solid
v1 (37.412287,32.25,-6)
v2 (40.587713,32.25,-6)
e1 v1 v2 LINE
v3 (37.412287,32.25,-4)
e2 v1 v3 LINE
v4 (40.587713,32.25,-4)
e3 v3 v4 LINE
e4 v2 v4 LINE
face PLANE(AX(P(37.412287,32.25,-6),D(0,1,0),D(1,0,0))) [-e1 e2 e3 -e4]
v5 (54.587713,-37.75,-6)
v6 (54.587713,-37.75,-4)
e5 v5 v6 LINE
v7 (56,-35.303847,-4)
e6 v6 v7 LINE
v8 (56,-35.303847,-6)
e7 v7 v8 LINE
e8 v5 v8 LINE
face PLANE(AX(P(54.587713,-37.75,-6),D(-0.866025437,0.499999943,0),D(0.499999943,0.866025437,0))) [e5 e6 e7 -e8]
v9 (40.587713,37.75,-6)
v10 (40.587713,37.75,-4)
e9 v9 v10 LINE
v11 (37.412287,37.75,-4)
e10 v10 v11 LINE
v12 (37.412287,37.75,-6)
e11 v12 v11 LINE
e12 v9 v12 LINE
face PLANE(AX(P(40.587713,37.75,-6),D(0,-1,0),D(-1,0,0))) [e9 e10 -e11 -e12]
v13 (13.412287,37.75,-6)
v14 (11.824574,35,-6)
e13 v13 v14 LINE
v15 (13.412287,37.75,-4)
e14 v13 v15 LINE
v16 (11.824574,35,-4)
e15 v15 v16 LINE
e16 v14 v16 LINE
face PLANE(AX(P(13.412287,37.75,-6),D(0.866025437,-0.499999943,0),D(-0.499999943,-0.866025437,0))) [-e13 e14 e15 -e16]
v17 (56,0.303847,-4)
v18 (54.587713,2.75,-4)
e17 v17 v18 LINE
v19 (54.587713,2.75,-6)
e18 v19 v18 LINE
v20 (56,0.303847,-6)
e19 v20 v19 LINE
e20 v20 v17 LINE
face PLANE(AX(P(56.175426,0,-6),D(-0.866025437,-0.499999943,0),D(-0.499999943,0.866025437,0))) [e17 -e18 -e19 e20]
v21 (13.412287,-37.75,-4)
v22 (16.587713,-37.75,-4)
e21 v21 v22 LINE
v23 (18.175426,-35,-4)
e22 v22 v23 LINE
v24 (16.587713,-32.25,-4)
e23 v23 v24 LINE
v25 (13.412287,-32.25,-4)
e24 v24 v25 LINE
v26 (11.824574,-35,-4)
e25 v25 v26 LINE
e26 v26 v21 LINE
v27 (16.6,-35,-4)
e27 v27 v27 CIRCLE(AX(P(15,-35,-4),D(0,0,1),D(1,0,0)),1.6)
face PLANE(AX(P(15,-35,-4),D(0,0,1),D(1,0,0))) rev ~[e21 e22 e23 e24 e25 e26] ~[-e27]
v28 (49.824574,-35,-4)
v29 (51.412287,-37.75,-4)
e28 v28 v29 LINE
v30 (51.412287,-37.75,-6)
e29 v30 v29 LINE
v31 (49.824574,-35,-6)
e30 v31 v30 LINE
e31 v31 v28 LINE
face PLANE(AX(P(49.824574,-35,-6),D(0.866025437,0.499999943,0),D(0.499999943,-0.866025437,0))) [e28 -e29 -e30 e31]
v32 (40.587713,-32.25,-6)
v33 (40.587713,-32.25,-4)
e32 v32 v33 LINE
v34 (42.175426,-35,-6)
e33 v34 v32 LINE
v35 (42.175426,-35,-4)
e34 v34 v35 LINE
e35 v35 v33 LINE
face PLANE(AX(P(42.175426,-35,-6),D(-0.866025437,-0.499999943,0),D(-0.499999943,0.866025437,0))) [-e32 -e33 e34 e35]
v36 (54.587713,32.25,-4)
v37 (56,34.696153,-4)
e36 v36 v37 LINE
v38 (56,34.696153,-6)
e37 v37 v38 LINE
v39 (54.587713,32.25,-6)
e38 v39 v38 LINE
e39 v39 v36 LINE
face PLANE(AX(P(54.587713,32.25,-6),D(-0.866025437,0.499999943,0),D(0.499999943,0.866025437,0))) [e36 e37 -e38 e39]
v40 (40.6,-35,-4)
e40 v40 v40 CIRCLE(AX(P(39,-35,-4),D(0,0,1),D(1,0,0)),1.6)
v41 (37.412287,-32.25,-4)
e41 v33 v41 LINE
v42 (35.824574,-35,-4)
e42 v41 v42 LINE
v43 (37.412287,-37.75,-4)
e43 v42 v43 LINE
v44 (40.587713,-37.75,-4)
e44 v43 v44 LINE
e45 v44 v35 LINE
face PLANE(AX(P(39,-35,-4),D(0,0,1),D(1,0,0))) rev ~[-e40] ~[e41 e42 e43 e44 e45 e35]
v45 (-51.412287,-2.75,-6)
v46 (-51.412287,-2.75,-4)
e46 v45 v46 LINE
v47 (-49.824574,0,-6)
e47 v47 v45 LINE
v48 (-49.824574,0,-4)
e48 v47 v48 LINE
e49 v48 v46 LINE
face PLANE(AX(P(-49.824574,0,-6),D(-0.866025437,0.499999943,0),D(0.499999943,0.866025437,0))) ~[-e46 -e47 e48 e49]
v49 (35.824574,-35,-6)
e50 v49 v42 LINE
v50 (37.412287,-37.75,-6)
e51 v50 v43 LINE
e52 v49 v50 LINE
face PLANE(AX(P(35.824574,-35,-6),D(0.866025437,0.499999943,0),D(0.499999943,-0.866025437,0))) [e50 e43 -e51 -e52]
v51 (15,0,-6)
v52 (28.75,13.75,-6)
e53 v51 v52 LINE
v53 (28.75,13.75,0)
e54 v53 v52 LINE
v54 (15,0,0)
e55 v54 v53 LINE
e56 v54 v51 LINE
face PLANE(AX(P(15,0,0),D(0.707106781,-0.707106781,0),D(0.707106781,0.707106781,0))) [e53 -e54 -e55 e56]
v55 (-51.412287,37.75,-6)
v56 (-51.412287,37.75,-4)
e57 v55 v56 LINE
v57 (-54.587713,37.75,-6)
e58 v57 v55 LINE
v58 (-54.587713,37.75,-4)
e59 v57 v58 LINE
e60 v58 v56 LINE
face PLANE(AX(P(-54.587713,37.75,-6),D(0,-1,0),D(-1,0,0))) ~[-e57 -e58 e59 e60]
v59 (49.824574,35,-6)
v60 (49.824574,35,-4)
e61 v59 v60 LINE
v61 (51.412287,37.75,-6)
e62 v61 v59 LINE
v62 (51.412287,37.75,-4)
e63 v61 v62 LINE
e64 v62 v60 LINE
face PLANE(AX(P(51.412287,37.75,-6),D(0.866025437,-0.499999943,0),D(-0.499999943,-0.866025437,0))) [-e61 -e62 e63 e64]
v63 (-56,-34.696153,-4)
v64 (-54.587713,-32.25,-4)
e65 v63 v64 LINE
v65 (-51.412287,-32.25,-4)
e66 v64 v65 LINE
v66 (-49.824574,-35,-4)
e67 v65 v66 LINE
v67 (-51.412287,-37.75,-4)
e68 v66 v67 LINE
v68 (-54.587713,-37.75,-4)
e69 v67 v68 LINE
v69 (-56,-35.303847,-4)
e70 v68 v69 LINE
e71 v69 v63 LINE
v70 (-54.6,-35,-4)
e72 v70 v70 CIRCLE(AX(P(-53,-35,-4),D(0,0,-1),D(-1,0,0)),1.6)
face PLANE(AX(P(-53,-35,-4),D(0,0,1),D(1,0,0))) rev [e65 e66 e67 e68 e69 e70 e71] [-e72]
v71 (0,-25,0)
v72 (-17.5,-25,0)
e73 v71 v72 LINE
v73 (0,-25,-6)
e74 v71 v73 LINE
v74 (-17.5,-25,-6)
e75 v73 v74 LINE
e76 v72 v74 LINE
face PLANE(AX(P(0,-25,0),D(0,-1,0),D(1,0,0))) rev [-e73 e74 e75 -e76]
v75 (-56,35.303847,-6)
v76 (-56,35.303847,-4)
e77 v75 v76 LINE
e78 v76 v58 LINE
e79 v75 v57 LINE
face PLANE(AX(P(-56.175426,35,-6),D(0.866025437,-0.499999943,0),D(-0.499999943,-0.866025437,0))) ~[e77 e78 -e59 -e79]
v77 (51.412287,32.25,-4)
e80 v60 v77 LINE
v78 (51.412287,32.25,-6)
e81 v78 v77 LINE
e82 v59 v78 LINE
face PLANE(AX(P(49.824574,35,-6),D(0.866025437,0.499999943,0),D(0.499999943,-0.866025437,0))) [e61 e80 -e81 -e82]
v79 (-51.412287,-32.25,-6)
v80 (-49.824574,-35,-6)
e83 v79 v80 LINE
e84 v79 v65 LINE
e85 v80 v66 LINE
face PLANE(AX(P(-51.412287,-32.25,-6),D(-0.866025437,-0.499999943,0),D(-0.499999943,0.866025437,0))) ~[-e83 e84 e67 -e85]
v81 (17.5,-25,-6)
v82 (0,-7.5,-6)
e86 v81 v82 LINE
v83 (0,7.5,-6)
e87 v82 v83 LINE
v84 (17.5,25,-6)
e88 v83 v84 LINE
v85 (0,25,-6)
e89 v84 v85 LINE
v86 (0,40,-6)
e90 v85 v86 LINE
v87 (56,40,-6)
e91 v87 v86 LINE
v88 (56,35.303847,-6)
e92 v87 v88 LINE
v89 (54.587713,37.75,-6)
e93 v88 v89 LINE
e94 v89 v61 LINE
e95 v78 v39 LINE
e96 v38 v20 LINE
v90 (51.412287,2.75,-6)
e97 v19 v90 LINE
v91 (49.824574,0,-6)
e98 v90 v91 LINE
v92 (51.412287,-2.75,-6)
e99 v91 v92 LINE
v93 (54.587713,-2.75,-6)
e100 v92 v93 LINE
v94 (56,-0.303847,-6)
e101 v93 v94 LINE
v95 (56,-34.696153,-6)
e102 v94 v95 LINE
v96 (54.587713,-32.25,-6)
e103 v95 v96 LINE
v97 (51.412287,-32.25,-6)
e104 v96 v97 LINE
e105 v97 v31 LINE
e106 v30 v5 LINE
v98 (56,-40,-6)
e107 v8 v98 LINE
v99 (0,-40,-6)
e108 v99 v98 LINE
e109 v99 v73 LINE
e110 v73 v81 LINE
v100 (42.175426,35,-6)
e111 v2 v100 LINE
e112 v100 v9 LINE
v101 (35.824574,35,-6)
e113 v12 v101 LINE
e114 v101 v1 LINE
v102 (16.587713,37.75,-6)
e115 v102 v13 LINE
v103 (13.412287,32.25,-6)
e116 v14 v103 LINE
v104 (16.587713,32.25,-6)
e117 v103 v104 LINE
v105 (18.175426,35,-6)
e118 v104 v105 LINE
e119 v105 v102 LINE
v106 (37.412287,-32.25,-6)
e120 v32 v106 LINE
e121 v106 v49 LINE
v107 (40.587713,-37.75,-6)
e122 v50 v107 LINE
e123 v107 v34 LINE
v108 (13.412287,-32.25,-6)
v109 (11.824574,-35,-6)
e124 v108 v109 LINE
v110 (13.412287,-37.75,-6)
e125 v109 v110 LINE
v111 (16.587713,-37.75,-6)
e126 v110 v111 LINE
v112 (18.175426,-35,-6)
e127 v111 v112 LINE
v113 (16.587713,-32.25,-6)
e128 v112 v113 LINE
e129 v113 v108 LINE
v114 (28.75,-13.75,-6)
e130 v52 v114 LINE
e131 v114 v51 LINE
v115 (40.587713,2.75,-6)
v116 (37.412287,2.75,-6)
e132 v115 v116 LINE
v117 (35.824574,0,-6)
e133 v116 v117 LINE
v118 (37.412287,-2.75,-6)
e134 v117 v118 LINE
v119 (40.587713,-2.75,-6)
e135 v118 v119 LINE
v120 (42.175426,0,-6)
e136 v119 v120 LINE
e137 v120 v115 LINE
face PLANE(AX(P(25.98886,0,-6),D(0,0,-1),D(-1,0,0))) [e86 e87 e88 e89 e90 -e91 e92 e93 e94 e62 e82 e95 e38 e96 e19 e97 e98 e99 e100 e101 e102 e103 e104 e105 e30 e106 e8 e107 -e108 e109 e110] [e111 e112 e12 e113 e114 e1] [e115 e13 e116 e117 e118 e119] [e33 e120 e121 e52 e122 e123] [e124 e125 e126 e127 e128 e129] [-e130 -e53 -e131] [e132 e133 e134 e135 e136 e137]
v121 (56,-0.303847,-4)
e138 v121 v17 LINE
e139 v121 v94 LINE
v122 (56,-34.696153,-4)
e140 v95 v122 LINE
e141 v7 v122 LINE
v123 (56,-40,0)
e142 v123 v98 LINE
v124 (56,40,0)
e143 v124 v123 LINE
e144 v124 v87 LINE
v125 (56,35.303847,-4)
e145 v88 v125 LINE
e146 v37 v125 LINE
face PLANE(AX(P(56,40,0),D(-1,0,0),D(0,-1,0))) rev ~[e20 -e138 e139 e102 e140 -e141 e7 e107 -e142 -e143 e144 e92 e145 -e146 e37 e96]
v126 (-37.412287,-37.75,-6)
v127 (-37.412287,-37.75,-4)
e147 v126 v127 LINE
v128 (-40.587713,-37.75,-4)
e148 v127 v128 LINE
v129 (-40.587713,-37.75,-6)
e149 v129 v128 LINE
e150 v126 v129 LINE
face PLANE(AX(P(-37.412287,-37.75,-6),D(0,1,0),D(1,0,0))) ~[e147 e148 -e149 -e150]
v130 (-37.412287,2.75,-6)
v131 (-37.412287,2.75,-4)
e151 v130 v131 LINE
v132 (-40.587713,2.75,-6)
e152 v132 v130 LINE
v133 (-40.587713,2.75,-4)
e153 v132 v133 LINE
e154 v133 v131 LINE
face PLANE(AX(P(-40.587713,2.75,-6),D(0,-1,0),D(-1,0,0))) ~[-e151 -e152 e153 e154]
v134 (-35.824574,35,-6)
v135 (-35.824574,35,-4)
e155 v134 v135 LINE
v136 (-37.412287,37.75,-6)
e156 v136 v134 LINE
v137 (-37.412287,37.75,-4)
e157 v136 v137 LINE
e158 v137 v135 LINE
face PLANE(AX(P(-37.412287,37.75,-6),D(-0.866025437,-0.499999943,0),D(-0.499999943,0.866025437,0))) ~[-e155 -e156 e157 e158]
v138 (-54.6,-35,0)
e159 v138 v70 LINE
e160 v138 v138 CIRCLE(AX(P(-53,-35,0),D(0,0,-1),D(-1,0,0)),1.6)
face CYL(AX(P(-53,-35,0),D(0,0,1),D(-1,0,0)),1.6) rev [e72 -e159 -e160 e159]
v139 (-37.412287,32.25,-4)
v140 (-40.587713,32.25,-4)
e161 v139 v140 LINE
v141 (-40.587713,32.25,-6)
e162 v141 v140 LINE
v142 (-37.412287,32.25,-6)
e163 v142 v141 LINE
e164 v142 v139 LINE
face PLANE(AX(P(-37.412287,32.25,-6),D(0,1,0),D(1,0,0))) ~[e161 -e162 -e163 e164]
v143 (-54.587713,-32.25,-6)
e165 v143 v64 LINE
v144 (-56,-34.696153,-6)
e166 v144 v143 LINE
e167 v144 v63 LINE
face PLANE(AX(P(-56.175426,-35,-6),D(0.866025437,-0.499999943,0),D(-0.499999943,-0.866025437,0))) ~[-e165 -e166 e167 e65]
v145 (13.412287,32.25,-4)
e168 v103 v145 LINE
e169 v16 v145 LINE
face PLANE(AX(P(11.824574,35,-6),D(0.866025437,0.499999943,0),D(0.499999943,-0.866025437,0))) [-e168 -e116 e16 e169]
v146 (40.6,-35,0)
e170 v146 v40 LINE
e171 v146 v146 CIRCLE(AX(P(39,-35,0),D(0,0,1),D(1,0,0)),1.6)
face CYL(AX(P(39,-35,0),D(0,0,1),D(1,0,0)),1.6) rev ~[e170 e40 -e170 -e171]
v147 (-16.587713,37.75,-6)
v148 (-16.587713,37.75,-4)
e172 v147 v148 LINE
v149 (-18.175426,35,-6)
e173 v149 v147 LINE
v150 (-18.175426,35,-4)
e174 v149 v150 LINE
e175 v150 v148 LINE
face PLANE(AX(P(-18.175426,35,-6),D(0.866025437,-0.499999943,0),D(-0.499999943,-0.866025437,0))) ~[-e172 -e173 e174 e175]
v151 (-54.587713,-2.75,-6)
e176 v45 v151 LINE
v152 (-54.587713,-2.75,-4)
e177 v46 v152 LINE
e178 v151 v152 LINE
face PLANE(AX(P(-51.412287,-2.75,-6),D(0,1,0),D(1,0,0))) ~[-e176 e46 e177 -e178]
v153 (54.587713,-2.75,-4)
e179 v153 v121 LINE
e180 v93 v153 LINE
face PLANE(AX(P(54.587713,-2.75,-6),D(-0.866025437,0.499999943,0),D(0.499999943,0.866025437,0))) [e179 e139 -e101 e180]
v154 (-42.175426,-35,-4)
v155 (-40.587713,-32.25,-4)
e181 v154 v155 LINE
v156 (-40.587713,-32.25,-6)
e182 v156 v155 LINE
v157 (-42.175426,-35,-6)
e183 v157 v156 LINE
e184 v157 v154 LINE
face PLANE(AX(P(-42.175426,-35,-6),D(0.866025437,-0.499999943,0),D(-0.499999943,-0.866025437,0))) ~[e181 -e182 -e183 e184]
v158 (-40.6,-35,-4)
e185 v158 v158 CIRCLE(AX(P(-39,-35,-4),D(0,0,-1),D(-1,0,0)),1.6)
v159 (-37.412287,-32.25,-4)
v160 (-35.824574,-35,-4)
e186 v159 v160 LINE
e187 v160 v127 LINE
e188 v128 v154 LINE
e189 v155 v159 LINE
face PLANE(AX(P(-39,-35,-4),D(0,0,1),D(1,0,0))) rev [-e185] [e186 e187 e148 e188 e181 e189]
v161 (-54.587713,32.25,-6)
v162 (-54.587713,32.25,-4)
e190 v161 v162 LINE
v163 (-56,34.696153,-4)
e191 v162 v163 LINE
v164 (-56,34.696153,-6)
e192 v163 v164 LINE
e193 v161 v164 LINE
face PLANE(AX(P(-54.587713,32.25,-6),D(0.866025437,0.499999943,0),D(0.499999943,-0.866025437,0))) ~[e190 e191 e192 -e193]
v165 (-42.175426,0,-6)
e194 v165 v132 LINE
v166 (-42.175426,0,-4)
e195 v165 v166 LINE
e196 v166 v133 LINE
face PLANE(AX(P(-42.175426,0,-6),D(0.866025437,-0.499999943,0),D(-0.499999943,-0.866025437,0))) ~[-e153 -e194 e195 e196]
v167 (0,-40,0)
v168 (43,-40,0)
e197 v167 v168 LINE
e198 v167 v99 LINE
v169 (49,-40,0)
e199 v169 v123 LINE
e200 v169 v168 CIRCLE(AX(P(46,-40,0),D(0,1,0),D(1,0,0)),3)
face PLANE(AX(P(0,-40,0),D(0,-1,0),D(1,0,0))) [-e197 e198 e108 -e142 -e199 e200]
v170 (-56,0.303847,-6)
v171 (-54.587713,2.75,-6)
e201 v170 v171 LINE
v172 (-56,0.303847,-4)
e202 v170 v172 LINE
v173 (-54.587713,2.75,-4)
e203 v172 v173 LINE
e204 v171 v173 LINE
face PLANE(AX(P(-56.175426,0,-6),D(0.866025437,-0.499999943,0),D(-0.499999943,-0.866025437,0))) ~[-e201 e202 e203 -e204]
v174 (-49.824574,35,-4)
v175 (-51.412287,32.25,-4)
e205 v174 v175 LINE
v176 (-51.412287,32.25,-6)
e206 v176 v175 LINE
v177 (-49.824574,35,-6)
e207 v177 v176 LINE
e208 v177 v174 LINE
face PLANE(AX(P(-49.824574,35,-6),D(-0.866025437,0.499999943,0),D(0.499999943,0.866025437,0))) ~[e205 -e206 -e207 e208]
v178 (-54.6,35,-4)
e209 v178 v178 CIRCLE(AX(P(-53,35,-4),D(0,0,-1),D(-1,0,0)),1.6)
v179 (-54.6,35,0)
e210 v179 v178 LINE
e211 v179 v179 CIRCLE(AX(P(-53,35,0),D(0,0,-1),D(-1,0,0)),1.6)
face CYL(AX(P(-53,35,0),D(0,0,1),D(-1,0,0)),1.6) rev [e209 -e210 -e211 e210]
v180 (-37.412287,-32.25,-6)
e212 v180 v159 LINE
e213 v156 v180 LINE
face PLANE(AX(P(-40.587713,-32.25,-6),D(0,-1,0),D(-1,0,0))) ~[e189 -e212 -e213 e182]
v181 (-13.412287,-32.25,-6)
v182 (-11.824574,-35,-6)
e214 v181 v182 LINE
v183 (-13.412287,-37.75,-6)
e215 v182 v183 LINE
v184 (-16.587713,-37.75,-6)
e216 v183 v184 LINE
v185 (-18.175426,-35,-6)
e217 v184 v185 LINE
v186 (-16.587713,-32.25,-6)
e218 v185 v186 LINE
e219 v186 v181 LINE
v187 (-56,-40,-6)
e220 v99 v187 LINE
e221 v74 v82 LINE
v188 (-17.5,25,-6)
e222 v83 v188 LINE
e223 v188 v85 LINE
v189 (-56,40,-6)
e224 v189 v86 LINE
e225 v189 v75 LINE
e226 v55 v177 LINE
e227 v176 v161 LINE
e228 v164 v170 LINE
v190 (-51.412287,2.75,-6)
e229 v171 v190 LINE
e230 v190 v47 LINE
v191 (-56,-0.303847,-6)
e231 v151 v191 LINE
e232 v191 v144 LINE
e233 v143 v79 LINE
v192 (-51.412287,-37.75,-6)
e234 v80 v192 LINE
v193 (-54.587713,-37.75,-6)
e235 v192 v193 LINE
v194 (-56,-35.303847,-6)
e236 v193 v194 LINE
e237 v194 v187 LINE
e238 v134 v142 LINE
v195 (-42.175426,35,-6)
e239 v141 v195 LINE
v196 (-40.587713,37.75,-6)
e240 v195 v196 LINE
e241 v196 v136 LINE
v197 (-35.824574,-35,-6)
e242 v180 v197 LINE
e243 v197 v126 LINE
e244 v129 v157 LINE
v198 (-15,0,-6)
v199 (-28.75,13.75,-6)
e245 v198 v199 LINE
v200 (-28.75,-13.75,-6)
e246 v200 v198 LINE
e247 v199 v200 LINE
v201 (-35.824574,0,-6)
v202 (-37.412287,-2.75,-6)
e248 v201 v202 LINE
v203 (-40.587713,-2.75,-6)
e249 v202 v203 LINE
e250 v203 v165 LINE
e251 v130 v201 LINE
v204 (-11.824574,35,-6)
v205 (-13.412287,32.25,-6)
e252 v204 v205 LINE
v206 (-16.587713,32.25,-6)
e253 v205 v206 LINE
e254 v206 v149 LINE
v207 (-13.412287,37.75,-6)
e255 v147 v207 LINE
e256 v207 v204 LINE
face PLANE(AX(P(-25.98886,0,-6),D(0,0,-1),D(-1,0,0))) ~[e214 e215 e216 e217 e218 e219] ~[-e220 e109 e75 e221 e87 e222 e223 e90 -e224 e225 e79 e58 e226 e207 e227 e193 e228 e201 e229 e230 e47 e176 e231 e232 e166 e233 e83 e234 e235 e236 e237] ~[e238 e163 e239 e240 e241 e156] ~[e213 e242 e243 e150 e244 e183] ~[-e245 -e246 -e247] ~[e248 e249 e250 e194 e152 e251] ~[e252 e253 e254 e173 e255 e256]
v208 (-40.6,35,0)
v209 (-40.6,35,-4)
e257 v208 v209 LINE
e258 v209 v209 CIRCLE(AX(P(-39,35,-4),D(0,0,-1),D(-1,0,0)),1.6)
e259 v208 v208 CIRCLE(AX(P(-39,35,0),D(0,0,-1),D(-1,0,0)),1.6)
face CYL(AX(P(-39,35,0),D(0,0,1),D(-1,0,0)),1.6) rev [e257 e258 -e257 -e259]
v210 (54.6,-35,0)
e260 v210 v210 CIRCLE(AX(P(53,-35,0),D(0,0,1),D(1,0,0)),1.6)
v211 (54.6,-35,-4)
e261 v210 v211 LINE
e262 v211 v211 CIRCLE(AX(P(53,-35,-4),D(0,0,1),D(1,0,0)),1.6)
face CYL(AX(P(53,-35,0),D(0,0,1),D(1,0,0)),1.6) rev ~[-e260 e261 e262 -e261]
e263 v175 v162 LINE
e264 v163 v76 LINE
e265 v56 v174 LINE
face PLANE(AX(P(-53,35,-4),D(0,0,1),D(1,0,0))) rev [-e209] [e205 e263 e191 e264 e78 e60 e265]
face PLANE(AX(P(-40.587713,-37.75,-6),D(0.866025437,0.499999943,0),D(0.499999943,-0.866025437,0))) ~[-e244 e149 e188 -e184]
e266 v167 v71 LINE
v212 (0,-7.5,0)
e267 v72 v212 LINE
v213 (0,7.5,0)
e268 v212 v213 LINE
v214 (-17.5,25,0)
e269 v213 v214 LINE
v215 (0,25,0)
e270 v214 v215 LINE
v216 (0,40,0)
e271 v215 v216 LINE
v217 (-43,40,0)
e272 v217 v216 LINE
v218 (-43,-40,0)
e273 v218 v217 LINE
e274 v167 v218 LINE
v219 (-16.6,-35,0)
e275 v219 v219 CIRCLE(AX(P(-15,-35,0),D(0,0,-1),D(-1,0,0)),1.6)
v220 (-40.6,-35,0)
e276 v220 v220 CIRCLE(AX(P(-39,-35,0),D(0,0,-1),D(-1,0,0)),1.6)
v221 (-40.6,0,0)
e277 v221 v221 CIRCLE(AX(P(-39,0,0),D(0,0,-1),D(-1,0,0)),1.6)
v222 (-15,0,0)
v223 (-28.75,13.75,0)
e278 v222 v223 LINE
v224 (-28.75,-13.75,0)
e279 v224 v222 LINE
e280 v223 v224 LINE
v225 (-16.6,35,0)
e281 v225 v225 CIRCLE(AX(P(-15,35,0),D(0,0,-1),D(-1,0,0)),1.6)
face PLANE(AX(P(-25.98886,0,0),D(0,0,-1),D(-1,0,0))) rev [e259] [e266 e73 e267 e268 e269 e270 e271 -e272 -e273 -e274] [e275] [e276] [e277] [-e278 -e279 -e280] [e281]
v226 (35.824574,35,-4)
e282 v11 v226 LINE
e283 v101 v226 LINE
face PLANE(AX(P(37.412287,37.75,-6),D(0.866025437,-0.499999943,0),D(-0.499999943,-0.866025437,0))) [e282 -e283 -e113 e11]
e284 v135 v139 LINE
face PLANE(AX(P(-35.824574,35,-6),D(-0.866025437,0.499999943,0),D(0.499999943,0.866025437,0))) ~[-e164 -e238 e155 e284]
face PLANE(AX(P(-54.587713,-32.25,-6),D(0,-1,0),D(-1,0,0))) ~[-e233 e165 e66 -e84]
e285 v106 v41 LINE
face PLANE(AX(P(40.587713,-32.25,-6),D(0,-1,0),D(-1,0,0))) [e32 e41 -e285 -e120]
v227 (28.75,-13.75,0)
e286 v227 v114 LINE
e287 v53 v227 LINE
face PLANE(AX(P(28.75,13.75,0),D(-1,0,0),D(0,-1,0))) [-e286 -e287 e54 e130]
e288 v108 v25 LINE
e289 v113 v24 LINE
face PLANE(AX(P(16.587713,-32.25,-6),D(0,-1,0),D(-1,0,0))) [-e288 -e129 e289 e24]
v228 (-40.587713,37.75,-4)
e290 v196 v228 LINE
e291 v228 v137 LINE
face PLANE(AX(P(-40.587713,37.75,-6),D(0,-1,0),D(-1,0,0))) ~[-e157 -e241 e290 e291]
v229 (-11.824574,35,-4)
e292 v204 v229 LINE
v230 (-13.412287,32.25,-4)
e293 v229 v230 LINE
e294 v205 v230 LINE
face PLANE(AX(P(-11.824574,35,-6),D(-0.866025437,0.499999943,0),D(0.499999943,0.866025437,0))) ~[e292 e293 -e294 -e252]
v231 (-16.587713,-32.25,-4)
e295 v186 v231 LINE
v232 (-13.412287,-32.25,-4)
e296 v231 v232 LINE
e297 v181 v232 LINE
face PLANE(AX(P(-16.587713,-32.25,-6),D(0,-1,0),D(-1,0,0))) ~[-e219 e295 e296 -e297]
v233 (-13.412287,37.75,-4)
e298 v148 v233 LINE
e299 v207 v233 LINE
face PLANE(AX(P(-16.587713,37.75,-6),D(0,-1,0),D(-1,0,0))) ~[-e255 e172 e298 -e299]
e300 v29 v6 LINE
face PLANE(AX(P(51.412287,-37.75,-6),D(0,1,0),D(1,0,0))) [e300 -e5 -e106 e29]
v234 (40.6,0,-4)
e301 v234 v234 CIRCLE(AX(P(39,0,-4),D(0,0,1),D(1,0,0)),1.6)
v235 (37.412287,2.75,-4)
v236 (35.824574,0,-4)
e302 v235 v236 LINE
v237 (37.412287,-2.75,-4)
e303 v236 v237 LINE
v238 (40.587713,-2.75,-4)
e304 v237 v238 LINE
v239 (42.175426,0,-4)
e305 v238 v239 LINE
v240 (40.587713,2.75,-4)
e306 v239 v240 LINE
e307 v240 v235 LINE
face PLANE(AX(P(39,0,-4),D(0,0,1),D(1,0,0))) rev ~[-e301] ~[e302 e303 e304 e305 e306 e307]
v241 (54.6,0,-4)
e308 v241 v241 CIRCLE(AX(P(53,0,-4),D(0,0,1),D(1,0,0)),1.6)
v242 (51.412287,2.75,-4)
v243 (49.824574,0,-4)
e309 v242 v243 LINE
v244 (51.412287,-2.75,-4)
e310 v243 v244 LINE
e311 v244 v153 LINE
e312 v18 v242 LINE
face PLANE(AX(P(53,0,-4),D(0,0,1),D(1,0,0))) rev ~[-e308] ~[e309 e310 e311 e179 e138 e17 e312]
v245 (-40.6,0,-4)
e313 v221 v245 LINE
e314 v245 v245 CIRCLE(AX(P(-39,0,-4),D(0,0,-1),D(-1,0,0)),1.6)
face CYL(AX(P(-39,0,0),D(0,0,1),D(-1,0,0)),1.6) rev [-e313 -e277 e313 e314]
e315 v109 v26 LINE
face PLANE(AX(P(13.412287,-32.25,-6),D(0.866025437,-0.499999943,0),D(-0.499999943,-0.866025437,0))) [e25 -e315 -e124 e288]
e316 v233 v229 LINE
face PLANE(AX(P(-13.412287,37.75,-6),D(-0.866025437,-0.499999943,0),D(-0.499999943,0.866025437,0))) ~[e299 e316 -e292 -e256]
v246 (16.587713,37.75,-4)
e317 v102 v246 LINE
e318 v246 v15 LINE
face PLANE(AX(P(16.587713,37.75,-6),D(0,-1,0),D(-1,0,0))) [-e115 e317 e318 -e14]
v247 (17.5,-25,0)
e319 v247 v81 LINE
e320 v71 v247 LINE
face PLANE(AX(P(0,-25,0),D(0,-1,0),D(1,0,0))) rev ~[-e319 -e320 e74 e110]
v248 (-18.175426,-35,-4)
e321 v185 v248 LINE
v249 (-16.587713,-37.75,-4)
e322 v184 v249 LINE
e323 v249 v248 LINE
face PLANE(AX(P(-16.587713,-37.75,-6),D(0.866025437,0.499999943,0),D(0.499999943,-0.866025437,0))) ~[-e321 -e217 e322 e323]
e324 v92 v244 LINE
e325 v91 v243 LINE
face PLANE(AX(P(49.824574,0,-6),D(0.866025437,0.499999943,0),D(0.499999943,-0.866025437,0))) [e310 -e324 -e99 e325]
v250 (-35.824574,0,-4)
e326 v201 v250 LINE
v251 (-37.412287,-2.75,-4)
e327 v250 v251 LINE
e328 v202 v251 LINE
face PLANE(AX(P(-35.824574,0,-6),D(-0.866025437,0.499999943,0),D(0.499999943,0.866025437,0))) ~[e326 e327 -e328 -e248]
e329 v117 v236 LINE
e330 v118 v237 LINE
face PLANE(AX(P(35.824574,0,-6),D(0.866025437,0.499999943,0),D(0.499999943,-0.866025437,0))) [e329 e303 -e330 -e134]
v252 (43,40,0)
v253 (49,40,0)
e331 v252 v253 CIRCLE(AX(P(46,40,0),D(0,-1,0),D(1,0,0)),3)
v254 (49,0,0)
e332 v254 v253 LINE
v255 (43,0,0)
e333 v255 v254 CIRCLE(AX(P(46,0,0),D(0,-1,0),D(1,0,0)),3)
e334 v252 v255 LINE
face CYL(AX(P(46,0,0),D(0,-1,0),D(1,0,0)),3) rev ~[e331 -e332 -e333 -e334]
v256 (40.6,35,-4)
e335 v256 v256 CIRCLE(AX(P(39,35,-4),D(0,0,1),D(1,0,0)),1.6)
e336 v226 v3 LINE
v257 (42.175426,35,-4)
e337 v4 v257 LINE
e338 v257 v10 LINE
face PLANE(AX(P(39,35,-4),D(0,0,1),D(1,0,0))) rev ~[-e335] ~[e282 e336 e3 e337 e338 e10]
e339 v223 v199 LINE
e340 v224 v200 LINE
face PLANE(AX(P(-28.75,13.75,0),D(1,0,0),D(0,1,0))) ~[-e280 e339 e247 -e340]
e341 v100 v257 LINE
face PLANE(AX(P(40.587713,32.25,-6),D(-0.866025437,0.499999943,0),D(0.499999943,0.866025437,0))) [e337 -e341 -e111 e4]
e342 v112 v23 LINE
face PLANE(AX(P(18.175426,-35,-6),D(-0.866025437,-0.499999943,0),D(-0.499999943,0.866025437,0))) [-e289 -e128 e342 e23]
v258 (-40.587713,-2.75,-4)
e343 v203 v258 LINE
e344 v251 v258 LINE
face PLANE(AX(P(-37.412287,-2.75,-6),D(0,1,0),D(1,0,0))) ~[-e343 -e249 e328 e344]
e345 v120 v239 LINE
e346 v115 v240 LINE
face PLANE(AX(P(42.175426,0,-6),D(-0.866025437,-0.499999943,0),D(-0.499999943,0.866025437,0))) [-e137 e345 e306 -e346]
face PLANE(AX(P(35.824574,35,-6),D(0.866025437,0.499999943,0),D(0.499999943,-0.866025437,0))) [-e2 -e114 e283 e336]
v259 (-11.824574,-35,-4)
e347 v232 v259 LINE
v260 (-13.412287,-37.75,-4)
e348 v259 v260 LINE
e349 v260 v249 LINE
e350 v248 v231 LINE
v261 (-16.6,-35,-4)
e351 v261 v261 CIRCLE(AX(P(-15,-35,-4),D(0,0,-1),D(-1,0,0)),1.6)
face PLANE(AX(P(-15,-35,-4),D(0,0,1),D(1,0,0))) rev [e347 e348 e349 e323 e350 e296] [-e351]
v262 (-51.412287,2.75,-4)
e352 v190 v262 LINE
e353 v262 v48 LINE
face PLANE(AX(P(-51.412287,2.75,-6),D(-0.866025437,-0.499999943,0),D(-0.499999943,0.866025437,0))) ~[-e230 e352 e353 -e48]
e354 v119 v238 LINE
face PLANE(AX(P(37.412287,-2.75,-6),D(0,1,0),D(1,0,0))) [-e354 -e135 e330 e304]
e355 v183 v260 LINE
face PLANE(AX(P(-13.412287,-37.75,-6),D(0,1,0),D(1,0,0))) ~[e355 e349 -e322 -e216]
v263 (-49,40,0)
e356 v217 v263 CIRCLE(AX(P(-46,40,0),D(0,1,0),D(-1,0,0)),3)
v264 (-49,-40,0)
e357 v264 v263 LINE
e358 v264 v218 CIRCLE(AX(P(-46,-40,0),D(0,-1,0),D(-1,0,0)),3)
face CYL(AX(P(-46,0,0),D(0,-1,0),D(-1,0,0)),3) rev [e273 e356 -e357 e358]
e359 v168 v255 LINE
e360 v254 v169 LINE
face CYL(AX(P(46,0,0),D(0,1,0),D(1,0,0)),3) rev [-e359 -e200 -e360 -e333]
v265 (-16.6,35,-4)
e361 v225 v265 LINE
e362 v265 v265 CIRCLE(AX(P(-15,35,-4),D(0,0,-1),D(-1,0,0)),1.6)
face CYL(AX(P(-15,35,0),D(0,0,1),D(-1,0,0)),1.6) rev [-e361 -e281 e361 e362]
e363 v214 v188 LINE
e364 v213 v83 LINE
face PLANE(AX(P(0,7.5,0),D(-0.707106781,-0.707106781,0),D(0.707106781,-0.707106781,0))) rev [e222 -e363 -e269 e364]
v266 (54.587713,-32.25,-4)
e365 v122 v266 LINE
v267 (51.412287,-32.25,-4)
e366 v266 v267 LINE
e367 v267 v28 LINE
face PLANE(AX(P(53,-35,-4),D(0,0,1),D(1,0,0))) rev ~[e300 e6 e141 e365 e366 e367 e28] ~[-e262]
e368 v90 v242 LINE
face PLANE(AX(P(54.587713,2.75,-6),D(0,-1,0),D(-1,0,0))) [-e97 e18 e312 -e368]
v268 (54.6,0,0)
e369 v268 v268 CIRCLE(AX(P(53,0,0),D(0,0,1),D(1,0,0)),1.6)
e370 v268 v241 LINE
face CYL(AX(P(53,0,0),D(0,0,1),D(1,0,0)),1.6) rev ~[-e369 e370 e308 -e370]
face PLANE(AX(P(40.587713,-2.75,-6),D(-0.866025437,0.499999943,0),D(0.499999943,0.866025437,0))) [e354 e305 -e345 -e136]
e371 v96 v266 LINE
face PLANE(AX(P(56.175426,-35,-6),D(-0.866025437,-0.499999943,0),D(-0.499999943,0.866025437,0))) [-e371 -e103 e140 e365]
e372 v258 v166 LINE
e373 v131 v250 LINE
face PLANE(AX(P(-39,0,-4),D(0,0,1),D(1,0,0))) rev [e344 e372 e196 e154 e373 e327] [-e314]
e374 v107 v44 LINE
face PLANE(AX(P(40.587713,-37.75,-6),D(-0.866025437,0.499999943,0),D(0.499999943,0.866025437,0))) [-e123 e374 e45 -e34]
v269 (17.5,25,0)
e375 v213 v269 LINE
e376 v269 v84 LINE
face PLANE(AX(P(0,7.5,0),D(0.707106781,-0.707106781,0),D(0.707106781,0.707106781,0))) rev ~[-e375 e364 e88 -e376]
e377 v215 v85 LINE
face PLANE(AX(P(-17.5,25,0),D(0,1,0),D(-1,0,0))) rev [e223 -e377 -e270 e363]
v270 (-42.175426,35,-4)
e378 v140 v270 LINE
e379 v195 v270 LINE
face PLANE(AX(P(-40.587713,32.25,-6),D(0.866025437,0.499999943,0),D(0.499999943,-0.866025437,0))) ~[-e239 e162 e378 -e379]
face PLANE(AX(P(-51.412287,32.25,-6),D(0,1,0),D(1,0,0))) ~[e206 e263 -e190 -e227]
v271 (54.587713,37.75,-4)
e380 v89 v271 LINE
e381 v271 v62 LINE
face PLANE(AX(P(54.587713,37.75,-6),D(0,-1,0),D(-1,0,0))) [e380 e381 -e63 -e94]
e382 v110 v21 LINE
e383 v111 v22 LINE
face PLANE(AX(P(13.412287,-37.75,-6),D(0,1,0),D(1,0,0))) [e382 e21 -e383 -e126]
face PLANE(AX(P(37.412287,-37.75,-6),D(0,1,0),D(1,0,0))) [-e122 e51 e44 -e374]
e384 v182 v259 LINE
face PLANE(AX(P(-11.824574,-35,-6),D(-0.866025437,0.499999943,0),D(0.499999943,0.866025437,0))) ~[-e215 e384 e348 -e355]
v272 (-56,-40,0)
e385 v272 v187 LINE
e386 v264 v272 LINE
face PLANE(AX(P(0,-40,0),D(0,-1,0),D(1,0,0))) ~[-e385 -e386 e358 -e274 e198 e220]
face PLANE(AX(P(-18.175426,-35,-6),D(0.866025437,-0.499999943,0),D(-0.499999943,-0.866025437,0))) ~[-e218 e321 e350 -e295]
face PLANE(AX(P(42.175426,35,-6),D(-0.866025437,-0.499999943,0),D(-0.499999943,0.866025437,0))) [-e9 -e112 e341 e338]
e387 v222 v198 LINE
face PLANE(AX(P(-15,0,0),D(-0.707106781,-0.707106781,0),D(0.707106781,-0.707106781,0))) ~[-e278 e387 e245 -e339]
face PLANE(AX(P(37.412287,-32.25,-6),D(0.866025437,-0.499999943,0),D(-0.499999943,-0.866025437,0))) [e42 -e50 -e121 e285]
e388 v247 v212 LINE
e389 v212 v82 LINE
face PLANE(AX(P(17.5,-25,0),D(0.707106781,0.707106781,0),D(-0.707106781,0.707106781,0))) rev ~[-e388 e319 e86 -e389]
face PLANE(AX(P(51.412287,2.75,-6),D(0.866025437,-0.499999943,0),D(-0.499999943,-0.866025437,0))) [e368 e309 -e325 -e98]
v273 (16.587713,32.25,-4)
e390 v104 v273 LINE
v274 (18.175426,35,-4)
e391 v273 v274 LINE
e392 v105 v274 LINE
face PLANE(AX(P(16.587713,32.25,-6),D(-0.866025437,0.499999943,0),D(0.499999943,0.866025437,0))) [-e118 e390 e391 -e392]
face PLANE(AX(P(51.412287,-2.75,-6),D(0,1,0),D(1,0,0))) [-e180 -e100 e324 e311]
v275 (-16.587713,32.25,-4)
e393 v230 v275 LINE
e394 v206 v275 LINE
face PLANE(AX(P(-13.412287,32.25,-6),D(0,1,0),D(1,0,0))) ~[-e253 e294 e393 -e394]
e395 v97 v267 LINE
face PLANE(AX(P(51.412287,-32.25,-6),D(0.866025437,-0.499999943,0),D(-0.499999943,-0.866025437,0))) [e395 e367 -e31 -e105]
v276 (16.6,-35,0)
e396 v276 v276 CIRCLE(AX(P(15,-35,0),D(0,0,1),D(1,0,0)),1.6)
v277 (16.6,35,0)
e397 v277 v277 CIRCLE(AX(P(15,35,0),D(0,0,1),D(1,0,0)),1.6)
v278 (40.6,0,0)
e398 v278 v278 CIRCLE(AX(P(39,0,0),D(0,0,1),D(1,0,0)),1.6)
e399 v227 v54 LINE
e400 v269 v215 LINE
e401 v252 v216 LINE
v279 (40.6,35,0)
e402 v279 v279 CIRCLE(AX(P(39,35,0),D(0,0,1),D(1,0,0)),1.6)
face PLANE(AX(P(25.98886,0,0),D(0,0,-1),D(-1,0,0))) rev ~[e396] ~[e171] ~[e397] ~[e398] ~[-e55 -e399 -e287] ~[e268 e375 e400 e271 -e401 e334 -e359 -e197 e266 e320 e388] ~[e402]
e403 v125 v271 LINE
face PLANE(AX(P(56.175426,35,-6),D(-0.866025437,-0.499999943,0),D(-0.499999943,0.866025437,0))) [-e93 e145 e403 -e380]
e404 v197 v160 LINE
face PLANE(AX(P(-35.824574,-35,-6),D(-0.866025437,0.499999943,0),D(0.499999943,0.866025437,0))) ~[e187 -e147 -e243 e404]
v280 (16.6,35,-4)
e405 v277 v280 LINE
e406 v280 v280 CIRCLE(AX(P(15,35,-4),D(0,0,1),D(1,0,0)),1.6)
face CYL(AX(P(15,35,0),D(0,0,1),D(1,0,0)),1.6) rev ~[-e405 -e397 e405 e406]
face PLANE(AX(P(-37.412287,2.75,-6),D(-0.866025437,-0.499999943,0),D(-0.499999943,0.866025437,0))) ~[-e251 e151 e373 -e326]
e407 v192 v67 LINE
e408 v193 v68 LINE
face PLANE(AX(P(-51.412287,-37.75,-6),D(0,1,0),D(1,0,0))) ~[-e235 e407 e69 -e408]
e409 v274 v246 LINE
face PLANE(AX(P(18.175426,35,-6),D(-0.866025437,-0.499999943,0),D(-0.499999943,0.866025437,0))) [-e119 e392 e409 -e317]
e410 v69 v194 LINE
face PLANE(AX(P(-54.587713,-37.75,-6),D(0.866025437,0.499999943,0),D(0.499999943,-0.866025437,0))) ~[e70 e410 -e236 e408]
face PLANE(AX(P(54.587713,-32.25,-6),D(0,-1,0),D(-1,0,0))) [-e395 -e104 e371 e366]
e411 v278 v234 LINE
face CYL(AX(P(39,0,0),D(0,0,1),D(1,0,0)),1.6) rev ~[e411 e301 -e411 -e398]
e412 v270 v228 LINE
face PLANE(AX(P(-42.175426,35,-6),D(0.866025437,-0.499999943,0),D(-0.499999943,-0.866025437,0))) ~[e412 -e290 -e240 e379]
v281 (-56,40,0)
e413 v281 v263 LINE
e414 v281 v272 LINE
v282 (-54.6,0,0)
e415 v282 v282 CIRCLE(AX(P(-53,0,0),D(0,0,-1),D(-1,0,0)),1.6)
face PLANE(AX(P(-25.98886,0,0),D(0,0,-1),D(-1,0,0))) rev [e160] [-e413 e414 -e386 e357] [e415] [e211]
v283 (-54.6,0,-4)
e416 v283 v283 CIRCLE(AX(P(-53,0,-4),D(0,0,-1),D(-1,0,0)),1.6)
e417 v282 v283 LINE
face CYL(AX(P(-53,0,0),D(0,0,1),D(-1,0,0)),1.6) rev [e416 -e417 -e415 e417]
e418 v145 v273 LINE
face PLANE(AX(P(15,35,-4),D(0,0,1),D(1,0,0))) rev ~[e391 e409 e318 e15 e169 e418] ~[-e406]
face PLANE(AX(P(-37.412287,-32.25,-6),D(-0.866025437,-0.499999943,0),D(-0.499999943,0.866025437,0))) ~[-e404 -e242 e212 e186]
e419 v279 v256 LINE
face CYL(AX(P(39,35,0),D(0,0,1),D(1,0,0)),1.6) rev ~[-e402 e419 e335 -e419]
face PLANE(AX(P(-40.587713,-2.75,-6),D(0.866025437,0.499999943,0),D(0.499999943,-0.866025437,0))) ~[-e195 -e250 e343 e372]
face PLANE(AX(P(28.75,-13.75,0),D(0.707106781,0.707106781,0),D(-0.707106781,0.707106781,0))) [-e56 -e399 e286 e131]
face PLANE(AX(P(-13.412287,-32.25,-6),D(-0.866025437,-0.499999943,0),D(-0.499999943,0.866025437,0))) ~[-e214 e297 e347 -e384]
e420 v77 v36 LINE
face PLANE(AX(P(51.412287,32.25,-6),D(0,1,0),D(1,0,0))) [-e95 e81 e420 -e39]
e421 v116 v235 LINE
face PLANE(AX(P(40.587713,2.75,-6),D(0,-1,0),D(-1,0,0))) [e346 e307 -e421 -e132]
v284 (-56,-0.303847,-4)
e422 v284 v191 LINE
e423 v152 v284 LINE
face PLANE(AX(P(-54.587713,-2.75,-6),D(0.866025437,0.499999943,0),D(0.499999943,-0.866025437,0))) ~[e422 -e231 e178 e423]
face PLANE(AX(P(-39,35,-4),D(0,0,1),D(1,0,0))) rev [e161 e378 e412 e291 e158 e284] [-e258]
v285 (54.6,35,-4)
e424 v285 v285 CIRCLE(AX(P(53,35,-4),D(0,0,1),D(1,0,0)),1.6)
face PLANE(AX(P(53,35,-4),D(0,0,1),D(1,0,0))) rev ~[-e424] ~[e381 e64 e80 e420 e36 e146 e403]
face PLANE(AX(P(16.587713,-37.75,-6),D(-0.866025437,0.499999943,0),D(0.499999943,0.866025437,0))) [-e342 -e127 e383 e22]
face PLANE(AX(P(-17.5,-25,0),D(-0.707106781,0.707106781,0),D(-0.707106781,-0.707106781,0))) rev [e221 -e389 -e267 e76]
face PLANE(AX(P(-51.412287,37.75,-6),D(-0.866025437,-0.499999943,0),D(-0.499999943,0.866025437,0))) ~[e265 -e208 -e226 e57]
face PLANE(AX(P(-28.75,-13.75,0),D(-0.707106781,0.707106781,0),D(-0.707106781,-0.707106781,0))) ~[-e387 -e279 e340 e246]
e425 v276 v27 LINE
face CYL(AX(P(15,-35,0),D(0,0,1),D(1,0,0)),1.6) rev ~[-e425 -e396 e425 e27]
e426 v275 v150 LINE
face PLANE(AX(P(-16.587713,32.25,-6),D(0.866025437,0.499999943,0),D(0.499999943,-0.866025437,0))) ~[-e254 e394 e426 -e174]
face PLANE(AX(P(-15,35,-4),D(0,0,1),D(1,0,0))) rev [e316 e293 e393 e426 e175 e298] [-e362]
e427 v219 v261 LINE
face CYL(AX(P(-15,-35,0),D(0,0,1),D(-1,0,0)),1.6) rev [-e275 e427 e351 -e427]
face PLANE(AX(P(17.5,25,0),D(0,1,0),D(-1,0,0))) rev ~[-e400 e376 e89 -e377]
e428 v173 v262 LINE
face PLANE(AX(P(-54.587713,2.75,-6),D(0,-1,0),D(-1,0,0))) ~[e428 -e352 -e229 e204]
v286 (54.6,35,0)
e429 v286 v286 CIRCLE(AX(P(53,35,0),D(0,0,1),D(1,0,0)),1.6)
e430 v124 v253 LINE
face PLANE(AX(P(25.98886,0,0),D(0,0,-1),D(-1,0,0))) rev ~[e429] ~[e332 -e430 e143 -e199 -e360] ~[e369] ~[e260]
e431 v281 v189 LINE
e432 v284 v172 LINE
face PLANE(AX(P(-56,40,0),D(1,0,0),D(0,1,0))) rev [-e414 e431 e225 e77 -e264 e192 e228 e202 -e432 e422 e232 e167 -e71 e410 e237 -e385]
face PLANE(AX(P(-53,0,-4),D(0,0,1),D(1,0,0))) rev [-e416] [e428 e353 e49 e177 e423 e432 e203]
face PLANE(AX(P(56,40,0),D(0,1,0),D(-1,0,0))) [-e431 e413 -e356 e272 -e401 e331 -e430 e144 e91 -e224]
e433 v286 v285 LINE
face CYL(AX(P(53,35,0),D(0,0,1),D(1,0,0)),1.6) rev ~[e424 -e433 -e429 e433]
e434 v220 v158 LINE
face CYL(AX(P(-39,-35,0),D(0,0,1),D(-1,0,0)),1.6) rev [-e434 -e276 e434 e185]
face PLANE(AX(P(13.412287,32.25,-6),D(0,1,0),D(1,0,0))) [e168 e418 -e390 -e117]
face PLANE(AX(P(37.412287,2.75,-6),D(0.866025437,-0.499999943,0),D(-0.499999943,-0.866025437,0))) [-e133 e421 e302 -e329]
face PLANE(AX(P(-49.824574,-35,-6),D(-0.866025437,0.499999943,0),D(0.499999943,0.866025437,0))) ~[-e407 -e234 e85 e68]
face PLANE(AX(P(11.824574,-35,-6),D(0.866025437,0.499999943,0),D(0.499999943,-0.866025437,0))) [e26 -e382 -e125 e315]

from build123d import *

# Parameters (mm, degrees)
SKETCH_R          = 1.6
PAD_DEPTH         = 6
SKETCH001_R       = 3
POCKET_DEPTH      = 40.001
POCKET_DEPTH_BACK = -40.001
POCKET001_DEPTH   = 2


with BuildPart() as toolbody:
    # Sketch → Pad (new body)
    with BuildSketch(Plane.XY):
        Polygon((0, 40), (46, 40), (56, 40), (56, -40), (46, -40), (0, -40), (0, -25), (17.5, -25), (0, -7.5), (0, 7.5), (17.5, 25), (0, 25), align=None)
        with Locations((53, 0)):
            Circle(SKETCH_R, mode=Mode.SUBTRACT)
        with Locations((53, 35)):
            Circle(SKETCH_R, mode=Mode.SUBTRACT)
        with Locations((53, -35)):
            Circle(SKETCH_R, mode=Mode.SUBTRACT)
        with Locations((39, 35)):
            Circle(SKETCH_R, mode=Mode.SUBTRACT)
        with Locations((39, 0)):
            Circle(SKETCH_R, mode=Mode.SUBTRACT)
        with Locations((39, -35)):
            Circle(SKETCH_R, mode=Mode.SUBTRACT)
        with Locations((15, 35)):
            Circle(SKETCH_R, mode=Mode.SUBTRACT)
        with Locations((15, -35)):
            Circle(SKETCH_R, mode=Mode.SUBTRACT)
        Polygon((15, 0), (28.75, 13.75), (28.75, -13.75), align=None, mode=Mode.SUBTRACT)
    extrude(amount=-PAD_DEPTH)

    # Sketch001 → Pocket (cut, two sides)
    with BuildSketch(Plane.XZ) as pocket_sk:
        with Locations((46, 0)):
            Circle(SKETCH001_R)
    extrude(amount=-POCKET_DEPTH, mode=Mode.SUBTRACT)
    extrude(pocket_sk.sketch, amount=-POCKET_DEPTH_BACK, mode=Mode.SUBTRACT)

    # Sketch002 (on DatumPlane) → Pocket001 (cut)
    with BuildSketch(Plane.XY.offset(-6)):
        Polygon((16.587713, 32.25), (18.175426, 35), (16.587713, 37.75), (13.412287, 37.75), (11.824574, 35), (13.412287, 32.25), align=None)
        Polygon((40.587713, 32.25), (42.175426, 35), (40.587713, 37.75), (37.412287, 37.75), (35.824574, 35), (37.412287, 32.25), align=None)
        Polygon((54.587713, 32.25), (56.175426, 35), (54.587713, 37.75), (51.412287, 37.75), (49.824574, 35), (51.412287, 32.25), align=None)
        Polygon((54.587713, -2.75), (56.175426, 0), (54.587713, 2.75), (51.412287, 2.75), (49.824574, 0), (51.412287, -2.75), align=None)
        Polygon((40.587713, -2.75), (42.175426, 0), (40.587713, 2.75), (37.412287, 2.75), (35.824574, 0), (37.412287, -2.75), align=None)
        Polygon((54.587713, -37.75), (56.175426, -35), (54.587713, -32.25), (51.412287, -32.25), (49.824574, -35), (51.412287, -37.75), align=None)
        Polygon((40.587713, -37.75), (42.175426, -35), (40.587713, -32.25), (37.412287, -32.25), (35.824574, -35), (37.412287, -37.75), align=None)
        Polygon((16.587713, -37.75), (18.175426, -35), (16.587713, -32.25), (13.412287, -32.25), (11.824574, -35), (13.412287, -37.75), align=None)
    extrude(amount=POCKET001_DEPTH, mode=Mode.SUBTRACT)


with BuildPart() as toolfusion:
    # Part__Mirroring: instance of ToolBody
    add(toolbody.part.mirror(Plane(origin=(0, 0, 0), x_dir=(0, -1, 0), z_dir=(1, 0, 0))))

    # Fusion: union ToolBody
    add(toolbody.part)


solid = toolfusion.part
